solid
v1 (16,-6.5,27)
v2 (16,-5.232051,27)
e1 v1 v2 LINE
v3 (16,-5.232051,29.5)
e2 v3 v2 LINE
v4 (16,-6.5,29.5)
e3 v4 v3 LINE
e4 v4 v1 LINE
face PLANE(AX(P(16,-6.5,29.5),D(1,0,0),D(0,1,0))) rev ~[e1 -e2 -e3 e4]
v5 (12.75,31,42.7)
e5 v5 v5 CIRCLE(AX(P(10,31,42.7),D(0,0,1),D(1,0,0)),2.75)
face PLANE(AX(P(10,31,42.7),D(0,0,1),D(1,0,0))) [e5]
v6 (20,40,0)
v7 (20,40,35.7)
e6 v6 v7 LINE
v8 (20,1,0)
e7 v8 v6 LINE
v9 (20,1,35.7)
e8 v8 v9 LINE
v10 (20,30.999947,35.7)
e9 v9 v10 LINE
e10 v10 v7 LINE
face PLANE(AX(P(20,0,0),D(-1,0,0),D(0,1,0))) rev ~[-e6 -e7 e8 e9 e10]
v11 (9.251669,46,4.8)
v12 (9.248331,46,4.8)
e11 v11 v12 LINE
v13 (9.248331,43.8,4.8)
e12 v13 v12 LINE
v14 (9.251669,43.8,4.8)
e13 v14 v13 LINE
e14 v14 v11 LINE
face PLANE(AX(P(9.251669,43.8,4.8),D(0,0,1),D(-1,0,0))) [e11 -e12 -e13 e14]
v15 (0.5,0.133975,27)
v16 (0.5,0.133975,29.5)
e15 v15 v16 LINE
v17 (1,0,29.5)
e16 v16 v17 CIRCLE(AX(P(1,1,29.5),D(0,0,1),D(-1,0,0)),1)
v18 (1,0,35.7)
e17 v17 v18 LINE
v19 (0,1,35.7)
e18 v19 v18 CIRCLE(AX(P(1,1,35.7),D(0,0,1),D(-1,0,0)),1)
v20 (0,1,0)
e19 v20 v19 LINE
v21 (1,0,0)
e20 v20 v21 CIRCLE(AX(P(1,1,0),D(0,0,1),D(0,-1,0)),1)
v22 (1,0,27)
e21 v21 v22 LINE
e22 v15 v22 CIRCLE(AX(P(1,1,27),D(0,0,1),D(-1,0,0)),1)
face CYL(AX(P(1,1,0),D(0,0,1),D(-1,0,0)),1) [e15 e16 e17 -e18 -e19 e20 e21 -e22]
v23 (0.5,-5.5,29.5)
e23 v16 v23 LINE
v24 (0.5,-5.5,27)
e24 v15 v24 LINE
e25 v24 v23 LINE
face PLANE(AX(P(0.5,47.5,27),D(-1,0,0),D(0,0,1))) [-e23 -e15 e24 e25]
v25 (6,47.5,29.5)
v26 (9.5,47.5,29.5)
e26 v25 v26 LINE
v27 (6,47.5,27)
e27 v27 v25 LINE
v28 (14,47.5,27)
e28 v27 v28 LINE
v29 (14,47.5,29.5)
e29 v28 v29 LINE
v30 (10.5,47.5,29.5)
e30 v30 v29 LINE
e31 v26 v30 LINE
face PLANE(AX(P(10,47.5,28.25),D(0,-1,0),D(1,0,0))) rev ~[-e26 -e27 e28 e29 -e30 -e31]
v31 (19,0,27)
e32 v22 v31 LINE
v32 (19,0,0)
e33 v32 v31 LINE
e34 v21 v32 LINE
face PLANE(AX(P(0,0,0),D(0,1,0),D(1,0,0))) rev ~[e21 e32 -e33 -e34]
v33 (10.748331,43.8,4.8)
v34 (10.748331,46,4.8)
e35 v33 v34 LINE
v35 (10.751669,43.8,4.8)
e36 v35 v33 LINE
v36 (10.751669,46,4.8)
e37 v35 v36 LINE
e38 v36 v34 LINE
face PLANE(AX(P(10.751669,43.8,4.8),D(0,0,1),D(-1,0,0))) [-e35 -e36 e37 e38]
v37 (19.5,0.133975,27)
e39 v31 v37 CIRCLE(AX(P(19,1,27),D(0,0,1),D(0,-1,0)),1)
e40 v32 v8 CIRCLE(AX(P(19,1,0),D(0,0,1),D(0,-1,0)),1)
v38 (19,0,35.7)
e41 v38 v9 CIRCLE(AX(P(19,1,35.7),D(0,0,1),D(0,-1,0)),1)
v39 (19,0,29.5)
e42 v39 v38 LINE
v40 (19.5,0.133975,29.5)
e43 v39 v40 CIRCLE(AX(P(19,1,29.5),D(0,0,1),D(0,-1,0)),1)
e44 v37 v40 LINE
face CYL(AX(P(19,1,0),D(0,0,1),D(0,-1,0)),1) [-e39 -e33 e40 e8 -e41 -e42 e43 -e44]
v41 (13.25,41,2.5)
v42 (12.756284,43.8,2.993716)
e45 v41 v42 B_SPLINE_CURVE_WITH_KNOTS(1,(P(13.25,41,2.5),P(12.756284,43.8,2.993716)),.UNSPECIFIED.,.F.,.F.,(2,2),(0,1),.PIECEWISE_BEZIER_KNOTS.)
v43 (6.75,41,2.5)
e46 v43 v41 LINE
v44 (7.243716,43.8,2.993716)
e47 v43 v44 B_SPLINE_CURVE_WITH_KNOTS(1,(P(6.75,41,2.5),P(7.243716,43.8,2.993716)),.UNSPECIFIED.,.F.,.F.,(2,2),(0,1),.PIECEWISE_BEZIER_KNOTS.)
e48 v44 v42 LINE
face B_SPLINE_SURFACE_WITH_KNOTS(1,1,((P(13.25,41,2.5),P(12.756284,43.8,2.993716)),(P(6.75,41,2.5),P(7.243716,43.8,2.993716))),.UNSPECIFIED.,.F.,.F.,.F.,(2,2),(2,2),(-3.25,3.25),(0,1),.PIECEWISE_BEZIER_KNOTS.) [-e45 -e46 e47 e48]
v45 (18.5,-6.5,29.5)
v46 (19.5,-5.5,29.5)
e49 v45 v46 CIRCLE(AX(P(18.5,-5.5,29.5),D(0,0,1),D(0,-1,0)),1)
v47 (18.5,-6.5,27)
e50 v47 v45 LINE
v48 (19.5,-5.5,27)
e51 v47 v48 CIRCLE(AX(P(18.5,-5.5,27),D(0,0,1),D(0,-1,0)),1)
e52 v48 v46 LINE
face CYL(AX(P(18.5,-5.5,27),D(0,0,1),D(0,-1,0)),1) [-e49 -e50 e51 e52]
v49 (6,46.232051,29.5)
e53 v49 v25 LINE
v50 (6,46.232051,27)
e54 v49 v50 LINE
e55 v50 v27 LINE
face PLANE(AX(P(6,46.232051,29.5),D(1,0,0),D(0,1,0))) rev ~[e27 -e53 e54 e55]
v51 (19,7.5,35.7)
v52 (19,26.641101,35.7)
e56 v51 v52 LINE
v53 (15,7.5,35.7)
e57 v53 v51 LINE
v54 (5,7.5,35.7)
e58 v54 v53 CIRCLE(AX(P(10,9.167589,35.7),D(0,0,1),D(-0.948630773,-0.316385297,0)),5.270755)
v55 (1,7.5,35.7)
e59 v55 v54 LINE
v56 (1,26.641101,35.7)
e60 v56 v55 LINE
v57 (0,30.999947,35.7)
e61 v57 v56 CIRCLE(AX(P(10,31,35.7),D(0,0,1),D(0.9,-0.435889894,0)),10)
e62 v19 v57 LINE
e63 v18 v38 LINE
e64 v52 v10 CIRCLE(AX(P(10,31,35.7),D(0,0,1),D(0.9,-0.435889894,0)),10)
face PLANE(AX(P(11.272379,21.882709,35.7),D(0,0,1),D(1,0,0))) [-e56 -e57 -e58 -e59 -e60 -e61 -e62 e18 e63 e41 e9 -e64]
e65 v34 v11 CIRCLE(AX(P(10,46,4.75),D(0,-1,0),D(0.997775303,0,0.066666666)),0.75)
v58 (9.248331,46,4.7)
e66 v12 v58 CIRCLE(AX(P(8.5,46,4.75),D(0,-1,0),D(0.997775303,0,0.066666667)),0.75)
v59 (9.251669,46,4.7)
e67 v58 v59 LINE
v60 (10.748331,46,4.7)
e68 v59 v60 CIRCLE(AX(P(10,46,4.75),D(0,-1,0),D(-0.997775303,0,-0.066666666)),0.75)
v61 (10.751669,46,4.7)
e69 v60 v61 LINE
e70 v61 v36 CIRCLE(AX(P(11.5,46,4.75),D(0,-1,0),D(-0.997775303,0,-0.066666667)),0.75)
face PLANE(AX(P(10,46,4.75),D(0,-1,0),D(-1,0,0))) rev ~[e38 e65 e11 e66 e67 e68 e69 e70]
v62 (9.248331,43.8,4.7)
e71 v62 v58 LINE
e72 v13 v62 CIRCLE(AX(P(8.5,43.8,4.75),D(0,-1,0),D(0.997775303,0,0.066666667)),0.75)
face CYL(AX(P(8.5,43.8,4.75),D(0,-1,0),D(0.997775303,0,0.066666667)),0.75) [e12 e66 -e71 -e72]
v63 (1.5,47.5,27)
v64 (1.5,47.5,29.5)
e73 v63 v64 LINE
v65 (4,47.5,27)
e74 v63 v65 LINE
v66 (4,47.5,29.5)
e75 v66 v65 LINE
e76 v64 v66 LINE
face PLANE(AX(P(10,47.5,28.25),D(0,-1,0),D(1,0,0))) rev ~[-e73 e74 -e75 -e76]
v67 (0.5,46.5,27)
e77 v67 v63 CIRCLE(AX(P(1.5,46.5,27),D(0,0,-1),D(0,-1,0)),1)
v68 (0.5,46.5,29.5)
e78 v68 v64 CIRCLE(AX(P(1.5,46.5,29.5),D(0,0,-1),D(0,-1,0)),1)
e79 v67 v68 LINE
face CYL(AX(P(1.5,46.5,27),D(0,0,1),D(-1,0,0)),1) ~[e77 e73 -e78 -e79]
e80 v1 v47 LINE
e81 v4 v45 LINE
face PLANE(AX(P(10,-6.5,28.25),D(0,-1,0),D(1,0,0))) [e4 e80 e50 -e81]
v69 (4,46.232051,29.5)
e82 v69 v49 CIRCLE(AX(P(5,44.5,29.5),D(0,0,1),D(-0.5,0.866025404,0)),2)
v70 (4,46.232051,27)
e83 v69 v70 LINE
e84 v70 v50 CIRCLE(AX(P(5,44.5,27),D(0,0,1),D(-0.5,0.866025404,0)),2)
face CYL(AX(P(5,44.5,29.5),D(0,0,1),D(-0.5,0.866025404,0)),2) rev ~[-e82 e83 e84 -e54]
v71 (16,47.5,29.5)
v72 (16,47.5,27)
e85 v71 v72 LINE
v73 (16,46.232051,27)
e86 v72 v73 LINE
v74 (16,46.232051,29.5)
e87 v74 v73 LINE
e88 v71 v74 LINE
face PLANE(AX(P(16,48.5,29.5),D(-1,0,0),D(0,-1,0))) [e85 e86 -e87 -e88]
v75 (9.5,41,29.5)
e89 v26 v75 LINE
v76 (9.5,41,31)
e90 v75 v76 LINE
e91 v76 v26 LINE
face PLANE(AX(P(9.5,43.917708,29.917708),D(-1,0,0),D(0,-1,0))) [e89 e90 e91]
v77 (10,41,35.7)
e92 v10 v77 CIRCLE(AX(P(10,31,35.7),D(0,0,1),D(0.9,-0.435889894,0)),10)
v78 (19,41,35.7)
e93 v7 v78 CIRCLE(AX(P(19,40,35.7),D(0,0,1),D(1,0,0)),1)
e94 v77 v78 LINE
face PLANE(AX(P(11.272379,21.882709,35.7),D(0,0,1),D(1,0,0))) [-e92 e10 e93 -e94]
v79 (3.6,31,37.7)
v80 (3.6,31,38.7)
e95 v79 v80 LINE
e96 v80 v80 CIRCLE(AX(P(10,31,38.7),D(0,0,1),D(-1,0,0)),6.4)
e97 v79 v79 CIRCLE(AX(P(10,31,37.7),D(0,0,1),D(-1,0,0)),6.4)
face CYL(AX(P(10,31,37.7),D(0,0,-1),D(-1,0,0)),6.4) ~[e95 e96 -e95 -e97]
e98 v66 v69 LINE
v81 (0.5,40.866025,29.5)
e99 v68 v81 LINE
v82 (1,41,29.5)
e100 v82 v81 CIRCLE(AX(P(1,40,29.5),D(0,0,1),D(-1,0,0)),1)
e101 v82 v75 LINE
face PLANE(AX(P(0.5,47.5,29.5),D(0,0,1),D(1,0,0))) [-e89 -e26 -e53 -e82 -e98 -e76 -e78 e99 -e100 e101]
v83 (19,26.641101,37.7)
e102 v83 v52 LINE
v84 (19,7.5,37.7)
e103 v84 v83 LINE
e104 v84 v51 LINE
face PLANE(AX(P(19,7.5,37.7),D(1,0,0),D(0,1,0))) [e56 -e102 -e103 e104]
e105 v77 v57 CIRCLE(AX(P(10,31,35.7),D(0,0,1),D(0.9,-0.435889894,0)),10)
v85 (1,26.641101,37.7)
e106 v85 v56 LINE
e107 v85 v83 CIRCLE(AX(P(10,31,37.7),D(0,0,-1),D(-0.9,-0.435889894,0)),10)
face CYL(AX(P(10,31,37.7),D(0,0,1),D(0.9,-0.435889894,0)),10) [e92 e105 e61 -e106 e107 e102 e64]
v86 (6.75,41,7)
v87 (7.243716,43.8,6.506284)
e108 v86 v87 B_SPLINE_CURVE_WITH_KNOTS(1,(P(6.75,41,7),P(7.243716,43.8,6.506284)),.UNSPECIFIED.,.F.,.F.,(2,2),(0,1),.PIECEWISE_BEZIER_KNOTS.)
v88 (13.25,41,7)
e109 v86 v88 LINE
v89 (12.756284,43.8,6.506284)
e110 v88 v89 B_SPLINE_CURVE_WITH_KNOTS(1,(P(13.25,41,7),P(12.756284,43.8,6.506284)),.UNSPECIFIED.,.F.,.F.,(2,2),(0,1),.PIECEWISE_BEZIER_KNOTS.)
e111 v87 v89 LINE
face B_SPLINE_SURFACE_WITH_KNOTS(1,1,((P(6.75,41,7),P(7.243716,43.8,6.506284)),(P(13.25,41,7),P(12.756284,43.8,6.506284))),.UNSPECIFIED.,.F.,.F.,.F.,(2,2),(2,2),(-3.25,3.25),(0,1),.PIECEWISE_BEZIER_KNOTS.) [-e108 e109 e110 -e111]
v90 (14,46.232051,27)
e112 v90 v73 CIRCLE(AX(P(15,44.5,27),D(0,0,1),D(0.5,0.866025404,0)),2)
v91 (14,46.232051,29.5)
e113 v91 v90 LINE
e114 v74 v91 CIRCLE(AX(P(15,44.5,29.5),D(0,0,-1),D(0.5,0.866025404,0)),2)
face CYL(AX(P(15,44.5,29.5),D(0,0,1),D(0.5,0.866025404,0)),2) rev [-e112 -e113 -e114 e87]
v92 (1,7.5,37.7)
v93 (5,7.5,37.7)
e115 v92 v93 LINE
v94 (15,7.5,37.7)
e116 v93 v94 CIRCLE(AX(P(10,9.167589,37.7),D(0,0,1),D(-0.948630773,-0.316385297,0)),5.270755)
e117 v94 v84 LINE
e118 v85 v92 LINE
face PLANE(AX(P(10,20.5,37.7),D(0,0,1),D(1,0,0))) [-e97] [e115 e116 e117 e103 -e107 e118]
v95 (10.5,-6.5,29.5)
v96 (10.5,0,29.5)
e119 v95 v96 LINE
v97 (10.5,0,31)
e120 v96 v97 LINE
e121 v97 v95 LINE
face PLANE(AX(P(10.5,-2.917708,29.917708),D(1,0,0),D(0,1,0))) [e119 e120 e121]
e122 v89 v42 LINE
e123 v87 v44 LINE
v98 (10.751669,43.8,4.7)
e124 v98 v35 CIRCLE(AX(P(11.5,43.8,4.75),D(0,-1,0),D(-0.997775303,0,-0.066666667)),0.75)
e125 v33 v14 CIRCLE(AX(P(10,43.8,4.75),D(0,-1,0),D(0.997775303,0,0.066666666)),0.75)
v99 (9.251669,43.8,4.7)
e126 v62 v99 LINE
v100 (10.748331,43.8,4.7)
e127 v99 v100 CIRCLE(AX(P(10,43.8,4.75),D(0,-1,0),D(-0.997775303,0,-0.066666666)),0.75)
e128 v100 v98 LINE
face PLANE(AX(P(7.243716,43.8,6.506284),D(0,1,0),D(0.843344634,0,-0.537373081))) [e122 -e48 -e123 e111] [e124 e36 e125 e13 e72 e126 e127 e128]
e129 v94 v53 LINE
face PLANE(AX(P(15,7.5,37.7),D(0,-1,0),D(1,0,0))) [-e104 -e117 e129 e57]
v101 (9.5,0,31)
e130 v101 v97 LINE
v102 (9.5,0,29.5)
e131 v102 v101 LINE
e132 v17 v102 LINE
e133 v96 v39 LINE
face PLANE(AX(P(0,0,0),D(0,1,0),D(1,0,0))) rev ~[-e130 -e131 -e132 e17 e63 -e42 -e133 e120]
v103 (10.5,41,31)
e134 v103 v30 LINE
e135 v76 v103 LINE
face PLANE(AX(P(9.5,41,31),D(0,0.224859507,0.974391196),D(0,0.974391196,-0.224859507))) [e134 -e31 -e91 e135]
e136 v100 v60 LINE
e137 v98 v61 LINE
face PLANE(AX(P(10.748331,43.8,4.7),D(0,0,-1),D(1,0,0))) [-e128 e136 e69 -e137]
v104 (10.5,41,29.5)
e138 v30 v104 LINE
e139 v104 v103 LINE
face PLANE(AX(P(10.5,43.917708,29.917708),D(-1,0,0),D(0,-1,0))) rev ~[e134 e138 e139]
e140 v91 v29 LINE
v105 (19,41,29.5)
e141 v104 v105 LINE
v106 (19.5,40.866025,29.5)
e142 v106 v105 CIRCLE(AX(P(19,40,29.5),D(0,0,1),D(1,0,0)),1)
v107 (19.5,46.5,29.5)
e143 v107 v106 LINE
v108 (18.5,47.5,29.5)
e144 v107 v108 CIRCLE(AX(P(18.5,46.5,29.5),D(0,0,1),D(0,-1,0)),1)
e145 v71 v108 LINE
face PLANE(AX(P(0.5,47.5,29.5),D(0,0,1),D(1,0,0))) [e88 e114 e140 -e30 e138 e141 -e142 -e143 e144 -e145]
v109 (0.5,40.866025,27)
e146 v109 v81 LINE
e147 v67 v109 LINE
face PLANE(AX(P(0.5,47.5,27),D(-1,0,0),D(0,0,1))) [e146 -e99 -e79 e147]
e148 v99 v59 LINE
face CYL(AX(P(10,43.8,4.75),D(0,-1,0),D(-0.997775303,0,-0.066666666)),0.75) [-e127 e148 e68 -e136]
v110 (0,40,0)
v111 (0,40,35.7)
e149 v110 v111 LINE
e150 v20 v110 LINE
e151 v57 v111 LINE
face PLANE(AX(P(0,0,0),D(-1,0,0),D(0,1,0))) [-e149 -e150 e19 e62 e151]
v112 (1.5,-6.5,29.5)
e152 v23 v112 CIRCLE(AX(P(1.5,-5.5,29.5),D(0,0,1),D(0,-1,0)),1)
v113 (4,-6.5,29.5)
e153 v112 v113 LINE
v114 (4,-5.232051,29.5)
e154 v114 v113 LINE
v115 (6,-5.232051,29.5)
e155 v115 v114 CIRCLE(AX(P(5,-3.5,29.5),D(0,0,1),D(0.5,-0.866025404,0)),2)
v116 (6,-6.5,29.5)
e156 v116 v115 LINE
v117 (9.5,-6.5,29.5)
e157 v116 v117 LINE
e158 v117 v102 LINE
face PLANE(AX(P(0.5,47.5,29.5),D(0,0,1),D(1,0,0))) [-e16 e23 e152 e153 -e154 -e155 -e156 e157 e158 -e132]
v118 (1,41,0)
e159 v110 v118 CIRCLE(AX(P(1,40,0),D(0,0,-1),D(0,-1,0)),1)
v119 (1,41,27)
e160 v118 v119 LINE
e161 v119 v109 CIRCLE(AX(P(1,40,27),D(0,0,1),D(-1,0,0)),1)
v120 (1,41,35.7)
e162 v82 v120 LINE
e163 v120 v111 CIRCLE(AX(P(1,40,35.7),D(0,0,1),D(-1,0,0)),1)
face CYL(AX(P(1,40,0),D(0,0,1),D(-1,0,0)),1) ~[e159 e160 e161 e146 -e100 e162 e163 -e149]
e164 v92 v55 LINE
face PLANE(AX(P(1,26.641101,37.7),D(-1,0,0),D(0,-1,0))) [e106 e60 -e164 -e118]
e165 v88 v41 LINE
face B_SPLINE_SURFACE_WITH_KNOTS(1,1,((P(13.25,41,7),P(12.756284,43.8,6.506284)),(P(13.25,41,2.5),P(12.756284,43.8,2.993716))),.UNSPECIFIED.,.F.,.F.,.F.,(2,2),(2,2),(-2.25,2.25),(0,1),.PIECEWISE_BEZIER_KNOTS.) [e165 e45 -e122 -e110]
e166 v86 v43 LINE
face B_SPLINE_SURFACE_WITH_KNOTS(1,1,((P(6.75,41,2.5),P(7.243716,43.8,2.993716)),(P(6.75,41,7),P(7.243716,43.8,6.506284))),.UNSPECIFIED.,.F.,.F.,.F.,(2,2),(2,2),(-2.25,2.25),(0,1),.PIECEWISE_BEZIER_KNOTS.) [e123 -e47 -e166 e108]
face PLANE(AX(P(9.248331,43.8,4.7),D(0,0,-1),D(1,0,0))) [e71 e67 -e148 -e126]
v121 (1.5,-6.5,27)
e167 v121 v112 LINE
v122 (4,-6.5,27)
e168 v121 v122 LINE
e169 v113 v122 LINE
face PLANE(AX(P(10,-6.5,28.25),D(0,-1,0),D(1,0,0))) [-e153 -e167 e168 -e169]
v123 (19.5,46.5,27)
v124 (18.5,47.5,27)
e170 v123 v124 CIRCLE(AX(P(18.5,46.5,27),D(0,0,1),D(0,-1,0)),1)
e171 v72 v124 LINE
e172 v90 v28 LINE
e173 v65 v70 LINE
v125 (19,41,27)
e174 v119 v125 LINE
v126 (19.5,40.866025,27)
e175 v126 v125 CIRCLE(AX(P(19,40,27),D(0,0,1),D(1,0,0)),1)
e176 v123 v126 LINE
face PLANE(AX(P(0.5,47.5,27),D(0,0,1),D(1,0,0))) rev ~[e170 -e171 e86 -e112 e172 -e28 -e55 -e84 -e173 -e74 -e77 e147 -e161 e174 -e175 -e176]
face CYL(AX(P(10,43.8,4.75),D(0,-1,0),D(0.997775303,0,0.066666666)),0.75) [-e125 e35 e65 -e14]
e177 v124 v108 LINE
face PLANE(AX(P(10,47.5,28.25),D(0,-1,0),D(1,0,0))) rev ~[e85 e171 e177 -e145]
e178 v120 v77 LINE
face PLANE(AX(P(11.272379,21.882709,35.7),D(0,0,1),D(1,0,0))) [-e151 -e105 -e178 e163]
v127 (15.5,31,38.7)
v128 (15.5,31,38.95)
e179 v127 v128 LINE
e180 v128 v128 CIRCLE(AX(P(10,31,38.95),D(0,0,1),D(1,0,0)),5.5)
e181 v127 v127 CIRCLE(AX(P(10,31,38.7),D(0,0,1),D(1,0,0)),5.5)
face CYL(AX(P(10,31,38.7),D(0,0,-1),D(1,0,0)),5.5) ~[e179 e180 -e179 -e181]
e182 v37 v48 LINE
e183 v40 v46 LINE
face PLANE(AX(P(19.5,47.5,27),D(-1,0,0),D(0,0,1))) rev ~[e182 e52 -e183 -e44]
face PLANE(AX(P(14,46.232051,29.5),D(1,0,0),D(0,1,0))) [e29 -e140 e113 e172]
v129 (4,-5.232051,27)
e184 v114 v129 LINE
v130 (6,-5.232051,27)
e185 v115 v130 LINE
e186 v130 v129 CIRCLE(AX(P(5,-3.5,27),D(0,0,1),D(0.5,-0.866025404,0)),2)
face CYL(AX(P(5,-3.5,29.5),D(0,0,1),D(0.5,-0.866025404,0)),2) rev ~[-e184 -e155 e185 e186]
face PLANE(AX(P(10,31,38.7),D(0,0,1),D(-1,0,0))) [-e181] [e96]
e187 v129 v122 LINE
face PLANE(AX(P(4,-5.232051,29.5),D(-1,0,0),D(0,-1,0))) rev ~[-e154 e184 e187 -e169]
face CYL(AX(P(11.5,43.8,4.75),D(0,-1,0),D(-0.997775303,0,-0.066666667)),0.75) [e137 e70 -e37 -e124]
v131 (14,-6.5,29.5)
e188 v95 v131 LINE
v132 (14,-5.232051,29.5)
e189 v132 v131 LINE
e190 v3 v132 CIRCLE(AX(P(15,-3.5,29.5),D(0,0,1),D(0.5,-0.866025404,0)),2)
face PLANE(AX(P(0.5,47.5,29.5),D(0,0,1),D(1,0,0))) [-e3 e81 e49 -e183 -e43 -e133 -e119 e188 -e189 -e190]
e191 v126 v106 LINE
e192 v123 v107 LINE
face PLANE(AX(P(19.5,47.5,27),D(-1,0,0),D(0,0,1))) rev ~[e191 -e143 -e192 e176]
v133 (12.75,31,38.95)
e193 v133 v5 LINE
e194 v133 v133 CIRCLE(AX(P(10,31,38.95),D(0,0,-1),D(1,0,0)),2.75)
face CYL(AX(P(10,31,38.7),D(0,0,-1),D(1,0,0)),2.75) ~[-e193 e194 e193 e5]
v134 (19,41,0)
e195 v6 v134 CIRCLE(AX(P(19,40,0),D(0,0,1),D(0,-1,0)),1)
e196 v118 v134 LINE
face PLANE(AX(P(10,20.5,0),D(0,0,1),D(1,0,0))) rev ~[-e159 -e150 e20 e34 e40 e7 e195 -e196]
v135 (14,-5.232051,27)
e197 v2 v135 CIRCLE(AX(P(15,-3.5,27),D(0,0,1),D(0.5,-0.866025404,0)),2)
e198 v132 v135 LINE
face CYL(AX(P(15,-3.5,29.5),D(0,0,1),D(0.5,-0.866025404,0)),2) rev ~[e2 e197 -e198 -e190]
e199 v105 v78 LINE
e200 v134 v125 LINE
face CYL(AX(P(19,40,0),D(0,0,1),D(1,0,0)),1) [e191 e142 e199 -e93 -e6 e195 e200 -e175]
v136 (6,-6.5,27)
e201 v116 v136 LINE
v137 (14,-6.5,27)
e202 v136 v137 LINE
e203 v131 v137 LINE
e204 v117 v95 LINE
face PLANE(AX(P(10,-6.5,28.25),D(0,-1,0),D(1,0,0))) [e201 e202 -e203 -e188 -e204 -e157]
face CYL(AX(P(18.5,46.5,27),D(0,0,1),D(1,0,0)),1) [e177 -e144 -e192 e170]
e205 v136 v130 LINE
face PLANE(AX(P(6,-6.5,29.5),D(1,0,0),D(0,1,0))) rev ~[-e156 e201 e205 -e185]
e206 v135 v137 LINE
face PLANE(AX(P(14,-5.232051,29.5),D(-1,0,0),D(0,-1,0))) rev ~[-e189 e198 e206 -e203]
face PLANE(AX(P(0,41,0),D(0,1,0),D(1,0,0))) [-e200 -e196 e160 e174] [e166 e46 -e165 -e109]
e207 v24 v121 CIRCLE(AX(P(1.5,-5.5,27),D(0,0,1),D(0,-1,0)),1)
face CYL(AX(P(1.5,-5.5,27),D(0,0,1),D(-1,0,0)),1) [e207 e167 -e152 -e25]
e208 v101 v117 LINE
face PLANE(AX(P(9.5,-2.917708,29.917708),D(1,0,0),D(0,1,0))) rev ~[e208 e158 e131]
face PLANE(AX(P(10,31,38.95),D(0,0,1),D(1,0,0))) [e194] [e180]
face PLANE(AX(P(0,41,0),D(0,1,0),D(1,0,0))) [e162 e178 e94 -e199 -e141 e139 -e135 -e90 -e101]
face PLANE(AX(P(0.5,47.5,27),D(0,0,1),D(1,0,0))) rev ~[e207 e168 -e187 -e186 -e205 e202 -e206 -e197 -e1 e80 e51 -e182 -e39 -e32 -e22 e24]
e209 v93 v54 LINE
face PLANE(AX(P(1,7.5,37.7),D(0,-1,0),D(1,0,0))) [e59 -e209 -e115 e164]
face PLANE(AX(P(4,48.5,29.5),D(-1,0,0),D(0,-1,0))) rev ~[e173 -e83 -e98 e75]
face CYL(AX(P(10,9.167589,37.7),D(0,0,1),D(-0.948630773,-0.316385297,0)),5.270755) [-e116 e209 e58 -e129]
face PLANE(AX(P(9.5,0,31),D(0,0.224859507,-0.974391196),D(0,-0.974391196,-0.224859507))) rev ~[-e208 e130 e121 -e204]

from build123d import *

# Parameters (mm, degrees)
ESQUISSE1_W              = 20
ESQUISSE1_H              = 41
BOSS_EXTRU_1_DEPTH       = 37.7
CONG_1_R                 = 1
BOSS_EXTRU_2_DEPTH       = 6.5
BOSS_EXTRU_2_DEPTH_BACK  = 47.5
ESQUISSE2_W              = 19
ESQUISSE2_H              = 2.5
ESQUISSE3_R              = 6.4
BOSS_EXTRU_3_DEPTH       = 1
ESQUISSE4_R              = 2.75
BOSS_EXTRU_4_DEPTH       = 4
ENL_V_MAT_EXTRU_1_DEPTH  = 4
ESQUISSE6_W              = 6.5
ESQUISSE6_H              = 4.5
BOSS_EXTRU_6_DEPTH       = 2.8
BOSS_EXTRU_6_TAPER       = 10
BOSS_EXTRU_12_DEPTH      = 2.2
BOSS_EXTRU_13_DEPTH      = 0.5
BOSS_EXTRU_13_DEPTH_BACK = 0.5
ESQUISSE8_W              = 34.833277075
ESQUISSE8_H              = 46.278938305
ENL_V_MAT_EXTRU_2_DEPTH  = 2
CONG_2_R                 = 1
ESQUISSE9_R              = 5.5
BOSS_EXTRU_14_DEPTH      = 0.25


with BuildPart() as part:
    # Esquisse1 → Boss.-Extru.1 (new body)
    with BuildSketch(Plane.XY):
        with Locations((10, 20.5)):
            Rectangle(ESQUISSE1_W, ESQUISSE1_H)
    extrude(amount=BOSS_EXTRU_1_DEPTH)

    # Congé1
    cong_1_edges = [part.edges().sort_by_distance(p)[0] for p in [
        (0, 41, 18.85),
        (20, 41, 18.85),
        (20, 0, 18.85),
        (0, 0, 18.85),
    ]]
    fillet(cong_1_edges, radius=CONG_1_R)

    # Esquisse2 → Boss.-Extru.2 (add, two sides: drawn at the far end of the back side and taken through both)
    with BuildSketch(Plane.XZ.offset(-BOSS_EXTRU_2_DEPTH_BACK)):
        with Locations((10, 28.25)):
            Rectangle(ESQUISSE2_W, ESQUISSE2_H)
    extrude(amount=BOSS_EXTRU_2_DEPTH + BOSS_EXTRU_2_DEPTH_BACK)

    # Esquisse3 → Boss.-Extru.3 (add)
    with BuildSketch(Plane.XY.offset(37.7)):
        with Locations(Location((10, 31, 0), (0, 0, 180))):
            Circle(ESQUISSE3_R)
    extrude(amount=BOSS_EXTRU_3_DEPTH)

    # Esquisse4 → Boss.-Extru.4 (add)
    with BuildSketch(Plane.XY.offset(38.7)):
        with Locations((10, 31)):
            Circle(ESQUISSE4_R)
    extrude(amount=BOSS_EXTRU_4_DEPTH)

    # Esquisse5 → Enlèv. mat.-Extru.1 (cut)
    with BuildSketch(Plane.XY.offset(29.5)):
        with BuildLine():
            ThreePointArc((16, 46.232050808), (15, 42.5), (14, 46.232050808))
            Line((14, 46.232050808), (14, 48.5))
            Line((14, 48.5), (16, 48.5))
            Line((16, 48.5), (16, 46.232050808))
        make_face()
        with BuildLine():
            Line((4, 48.5), (4, 46.232050808))
            ThreePointArc((4, 46.232050808), (5, 42.5), (6, 46.232050808))
            Line((6, 46.232050808), (6, 48.5))
            Line((6, 48.5), (4, 48.5))
        make_face()
        with BuildLine():
            Line((4, -6.5), (6, -6.5))
            Line((6, -6.5), (6, -5.232050808))
            ThreePointArc((6, -5.232050808), (5, -1.5), (4, -5.232050808))
            Line((4, -5.232050808), (4, -6.5))
        make_face()
        with BuildLine():
            Line((14, -6.5), (16, -6.5))
            Line((16, -6.5), (16, -5.232050808))
            ThreePointArc((16, -5.232050808), (15, -1.5), (14, -5.232050808))
            Line((14, -5.232050808), (14, -6.5))
        make_face()
    extrude(amount=-ENL_V_MAT_EXTRU_1_DEPTH, mode=Mode.SUBTRACT)

    # Esquisse6 → Boss.-Extru.6 (add)
    with BuildSketch(Plane(origin=(0, 41, 0), x_dir=(1, 0, 0), z_dir=(0, 1, 0))):
        with Locations((10, -4.75)):
            Rectangle(ESQUISSE6_W, ESQUISSE6_H)
    extrude(amount=BOSS_EXTRU_6_DEPTH, taper=BOSS_EXTRU_6_TAPER)

    # Esquisse7 → Boss.-Extru.12 (add)
    with BuildSketch(Plane(origin=(0, 43.8, 0), x_dir=(1, 0, 0), z_dir=(0, 1, 0))):
        with BuildLine():
            Line((10.751668523, -4.8), (10.748331477, -4.8))
            ThreePointArc((10.748331477, -4.8), (10, -5.5), (9.251668523, -4.8))
            Line((9.251668523, -4.8), (9.248331477, -4.8))
            ThreePointArc((9.248331477, -4.8), (7.75, -4.75), (9.248331477, -4.7))
            Line((9.248331477, -4.7), (9.251668523, -4.7))
            ThreePointArc((9.251668523, -4.7), (10, -4), (10.748331477, -4.7))
            Line((10.748331477, -4.7), (10.751668523, -4.7))
            ThreePointArc((10.751668523, -4.7), (12.25, -4.75), (10.751668523, -4.8))
        make_face()
    extrude(amount=BOSS_EXTRU_12_DEPTH)

    # Esquisse3D1 → Boss.-Extru.13 (add, two sides: drawn at the far end of the back side and taken through both)
    with BuildSketch(Plane(origin=(10, -6.5, 29.5), x_dir=(0, 1, 0), z_dir=(1, 0, 0)).offset(-BOSS_EXTRU_13_DEPTH_BACK)):
        Polygon((0, 0), (6.5, 0), (6.5, 1.5), align=None)
        Polygon((54, 0), (47.5, 0), (47.5, 1.5), align=None)
    extrude(amount=BOSS_EXTRU_13_DEPTH + BOSS_EXTRU_13_DEPTH_BACK)

    # Esquisse8 → Enlèv. mat.-Extru.2 (cut)
    with BuildSketch(Plane.XY.offset(37.7)):
        with Locations((11.272378628, 21.882709323)):
            Rectangle(ESQUISSE8_W, ESQUISSE8_H)
        with BuildLine():
            Line((1, 26.641101056), (1, 7.5))
            Line((1, 7.5), (5, 7.5))
            ThreePointArc((5, 7.5), (10, 3.896834669), (15, 7.5))
            Line((15, 7.5), (19, 7.5))
            Line((19, 7.5), (19, 26.641101056))
            ThreePointArc((19, 26.641101056), (10, 41), (1, 26.641101056))
        make_face(mode=Mode.SUBTRACT)
    extrude(amount=-ENL_V_MAT_EXTRU_2_DEPTH, mode=Mode.SUBTRACT)

    # Congé2
    cong_2_edges = [part.edges().sort_by_distance(p)[0] for p in [
        (0.5, 47.5, 28.25),
        (19.5, 47.5, 28.25),
        (0.5, -6.5, 28.25),
        (19.5, -6.5, 28.25),
    ]]
    fillet(cong_2_edges, radius=CONG_2_R)

    # Esquisse9 → Boss.-Extru.14 (add)
    with BuildSketch(Plane.XY.offset(38.7)):
        with Locations((10, 31)):
            Circle(ESQUISSE9_R)
    extrude(amount=BOSS_EXTRU_14_DEPTH)


solid = part.part
